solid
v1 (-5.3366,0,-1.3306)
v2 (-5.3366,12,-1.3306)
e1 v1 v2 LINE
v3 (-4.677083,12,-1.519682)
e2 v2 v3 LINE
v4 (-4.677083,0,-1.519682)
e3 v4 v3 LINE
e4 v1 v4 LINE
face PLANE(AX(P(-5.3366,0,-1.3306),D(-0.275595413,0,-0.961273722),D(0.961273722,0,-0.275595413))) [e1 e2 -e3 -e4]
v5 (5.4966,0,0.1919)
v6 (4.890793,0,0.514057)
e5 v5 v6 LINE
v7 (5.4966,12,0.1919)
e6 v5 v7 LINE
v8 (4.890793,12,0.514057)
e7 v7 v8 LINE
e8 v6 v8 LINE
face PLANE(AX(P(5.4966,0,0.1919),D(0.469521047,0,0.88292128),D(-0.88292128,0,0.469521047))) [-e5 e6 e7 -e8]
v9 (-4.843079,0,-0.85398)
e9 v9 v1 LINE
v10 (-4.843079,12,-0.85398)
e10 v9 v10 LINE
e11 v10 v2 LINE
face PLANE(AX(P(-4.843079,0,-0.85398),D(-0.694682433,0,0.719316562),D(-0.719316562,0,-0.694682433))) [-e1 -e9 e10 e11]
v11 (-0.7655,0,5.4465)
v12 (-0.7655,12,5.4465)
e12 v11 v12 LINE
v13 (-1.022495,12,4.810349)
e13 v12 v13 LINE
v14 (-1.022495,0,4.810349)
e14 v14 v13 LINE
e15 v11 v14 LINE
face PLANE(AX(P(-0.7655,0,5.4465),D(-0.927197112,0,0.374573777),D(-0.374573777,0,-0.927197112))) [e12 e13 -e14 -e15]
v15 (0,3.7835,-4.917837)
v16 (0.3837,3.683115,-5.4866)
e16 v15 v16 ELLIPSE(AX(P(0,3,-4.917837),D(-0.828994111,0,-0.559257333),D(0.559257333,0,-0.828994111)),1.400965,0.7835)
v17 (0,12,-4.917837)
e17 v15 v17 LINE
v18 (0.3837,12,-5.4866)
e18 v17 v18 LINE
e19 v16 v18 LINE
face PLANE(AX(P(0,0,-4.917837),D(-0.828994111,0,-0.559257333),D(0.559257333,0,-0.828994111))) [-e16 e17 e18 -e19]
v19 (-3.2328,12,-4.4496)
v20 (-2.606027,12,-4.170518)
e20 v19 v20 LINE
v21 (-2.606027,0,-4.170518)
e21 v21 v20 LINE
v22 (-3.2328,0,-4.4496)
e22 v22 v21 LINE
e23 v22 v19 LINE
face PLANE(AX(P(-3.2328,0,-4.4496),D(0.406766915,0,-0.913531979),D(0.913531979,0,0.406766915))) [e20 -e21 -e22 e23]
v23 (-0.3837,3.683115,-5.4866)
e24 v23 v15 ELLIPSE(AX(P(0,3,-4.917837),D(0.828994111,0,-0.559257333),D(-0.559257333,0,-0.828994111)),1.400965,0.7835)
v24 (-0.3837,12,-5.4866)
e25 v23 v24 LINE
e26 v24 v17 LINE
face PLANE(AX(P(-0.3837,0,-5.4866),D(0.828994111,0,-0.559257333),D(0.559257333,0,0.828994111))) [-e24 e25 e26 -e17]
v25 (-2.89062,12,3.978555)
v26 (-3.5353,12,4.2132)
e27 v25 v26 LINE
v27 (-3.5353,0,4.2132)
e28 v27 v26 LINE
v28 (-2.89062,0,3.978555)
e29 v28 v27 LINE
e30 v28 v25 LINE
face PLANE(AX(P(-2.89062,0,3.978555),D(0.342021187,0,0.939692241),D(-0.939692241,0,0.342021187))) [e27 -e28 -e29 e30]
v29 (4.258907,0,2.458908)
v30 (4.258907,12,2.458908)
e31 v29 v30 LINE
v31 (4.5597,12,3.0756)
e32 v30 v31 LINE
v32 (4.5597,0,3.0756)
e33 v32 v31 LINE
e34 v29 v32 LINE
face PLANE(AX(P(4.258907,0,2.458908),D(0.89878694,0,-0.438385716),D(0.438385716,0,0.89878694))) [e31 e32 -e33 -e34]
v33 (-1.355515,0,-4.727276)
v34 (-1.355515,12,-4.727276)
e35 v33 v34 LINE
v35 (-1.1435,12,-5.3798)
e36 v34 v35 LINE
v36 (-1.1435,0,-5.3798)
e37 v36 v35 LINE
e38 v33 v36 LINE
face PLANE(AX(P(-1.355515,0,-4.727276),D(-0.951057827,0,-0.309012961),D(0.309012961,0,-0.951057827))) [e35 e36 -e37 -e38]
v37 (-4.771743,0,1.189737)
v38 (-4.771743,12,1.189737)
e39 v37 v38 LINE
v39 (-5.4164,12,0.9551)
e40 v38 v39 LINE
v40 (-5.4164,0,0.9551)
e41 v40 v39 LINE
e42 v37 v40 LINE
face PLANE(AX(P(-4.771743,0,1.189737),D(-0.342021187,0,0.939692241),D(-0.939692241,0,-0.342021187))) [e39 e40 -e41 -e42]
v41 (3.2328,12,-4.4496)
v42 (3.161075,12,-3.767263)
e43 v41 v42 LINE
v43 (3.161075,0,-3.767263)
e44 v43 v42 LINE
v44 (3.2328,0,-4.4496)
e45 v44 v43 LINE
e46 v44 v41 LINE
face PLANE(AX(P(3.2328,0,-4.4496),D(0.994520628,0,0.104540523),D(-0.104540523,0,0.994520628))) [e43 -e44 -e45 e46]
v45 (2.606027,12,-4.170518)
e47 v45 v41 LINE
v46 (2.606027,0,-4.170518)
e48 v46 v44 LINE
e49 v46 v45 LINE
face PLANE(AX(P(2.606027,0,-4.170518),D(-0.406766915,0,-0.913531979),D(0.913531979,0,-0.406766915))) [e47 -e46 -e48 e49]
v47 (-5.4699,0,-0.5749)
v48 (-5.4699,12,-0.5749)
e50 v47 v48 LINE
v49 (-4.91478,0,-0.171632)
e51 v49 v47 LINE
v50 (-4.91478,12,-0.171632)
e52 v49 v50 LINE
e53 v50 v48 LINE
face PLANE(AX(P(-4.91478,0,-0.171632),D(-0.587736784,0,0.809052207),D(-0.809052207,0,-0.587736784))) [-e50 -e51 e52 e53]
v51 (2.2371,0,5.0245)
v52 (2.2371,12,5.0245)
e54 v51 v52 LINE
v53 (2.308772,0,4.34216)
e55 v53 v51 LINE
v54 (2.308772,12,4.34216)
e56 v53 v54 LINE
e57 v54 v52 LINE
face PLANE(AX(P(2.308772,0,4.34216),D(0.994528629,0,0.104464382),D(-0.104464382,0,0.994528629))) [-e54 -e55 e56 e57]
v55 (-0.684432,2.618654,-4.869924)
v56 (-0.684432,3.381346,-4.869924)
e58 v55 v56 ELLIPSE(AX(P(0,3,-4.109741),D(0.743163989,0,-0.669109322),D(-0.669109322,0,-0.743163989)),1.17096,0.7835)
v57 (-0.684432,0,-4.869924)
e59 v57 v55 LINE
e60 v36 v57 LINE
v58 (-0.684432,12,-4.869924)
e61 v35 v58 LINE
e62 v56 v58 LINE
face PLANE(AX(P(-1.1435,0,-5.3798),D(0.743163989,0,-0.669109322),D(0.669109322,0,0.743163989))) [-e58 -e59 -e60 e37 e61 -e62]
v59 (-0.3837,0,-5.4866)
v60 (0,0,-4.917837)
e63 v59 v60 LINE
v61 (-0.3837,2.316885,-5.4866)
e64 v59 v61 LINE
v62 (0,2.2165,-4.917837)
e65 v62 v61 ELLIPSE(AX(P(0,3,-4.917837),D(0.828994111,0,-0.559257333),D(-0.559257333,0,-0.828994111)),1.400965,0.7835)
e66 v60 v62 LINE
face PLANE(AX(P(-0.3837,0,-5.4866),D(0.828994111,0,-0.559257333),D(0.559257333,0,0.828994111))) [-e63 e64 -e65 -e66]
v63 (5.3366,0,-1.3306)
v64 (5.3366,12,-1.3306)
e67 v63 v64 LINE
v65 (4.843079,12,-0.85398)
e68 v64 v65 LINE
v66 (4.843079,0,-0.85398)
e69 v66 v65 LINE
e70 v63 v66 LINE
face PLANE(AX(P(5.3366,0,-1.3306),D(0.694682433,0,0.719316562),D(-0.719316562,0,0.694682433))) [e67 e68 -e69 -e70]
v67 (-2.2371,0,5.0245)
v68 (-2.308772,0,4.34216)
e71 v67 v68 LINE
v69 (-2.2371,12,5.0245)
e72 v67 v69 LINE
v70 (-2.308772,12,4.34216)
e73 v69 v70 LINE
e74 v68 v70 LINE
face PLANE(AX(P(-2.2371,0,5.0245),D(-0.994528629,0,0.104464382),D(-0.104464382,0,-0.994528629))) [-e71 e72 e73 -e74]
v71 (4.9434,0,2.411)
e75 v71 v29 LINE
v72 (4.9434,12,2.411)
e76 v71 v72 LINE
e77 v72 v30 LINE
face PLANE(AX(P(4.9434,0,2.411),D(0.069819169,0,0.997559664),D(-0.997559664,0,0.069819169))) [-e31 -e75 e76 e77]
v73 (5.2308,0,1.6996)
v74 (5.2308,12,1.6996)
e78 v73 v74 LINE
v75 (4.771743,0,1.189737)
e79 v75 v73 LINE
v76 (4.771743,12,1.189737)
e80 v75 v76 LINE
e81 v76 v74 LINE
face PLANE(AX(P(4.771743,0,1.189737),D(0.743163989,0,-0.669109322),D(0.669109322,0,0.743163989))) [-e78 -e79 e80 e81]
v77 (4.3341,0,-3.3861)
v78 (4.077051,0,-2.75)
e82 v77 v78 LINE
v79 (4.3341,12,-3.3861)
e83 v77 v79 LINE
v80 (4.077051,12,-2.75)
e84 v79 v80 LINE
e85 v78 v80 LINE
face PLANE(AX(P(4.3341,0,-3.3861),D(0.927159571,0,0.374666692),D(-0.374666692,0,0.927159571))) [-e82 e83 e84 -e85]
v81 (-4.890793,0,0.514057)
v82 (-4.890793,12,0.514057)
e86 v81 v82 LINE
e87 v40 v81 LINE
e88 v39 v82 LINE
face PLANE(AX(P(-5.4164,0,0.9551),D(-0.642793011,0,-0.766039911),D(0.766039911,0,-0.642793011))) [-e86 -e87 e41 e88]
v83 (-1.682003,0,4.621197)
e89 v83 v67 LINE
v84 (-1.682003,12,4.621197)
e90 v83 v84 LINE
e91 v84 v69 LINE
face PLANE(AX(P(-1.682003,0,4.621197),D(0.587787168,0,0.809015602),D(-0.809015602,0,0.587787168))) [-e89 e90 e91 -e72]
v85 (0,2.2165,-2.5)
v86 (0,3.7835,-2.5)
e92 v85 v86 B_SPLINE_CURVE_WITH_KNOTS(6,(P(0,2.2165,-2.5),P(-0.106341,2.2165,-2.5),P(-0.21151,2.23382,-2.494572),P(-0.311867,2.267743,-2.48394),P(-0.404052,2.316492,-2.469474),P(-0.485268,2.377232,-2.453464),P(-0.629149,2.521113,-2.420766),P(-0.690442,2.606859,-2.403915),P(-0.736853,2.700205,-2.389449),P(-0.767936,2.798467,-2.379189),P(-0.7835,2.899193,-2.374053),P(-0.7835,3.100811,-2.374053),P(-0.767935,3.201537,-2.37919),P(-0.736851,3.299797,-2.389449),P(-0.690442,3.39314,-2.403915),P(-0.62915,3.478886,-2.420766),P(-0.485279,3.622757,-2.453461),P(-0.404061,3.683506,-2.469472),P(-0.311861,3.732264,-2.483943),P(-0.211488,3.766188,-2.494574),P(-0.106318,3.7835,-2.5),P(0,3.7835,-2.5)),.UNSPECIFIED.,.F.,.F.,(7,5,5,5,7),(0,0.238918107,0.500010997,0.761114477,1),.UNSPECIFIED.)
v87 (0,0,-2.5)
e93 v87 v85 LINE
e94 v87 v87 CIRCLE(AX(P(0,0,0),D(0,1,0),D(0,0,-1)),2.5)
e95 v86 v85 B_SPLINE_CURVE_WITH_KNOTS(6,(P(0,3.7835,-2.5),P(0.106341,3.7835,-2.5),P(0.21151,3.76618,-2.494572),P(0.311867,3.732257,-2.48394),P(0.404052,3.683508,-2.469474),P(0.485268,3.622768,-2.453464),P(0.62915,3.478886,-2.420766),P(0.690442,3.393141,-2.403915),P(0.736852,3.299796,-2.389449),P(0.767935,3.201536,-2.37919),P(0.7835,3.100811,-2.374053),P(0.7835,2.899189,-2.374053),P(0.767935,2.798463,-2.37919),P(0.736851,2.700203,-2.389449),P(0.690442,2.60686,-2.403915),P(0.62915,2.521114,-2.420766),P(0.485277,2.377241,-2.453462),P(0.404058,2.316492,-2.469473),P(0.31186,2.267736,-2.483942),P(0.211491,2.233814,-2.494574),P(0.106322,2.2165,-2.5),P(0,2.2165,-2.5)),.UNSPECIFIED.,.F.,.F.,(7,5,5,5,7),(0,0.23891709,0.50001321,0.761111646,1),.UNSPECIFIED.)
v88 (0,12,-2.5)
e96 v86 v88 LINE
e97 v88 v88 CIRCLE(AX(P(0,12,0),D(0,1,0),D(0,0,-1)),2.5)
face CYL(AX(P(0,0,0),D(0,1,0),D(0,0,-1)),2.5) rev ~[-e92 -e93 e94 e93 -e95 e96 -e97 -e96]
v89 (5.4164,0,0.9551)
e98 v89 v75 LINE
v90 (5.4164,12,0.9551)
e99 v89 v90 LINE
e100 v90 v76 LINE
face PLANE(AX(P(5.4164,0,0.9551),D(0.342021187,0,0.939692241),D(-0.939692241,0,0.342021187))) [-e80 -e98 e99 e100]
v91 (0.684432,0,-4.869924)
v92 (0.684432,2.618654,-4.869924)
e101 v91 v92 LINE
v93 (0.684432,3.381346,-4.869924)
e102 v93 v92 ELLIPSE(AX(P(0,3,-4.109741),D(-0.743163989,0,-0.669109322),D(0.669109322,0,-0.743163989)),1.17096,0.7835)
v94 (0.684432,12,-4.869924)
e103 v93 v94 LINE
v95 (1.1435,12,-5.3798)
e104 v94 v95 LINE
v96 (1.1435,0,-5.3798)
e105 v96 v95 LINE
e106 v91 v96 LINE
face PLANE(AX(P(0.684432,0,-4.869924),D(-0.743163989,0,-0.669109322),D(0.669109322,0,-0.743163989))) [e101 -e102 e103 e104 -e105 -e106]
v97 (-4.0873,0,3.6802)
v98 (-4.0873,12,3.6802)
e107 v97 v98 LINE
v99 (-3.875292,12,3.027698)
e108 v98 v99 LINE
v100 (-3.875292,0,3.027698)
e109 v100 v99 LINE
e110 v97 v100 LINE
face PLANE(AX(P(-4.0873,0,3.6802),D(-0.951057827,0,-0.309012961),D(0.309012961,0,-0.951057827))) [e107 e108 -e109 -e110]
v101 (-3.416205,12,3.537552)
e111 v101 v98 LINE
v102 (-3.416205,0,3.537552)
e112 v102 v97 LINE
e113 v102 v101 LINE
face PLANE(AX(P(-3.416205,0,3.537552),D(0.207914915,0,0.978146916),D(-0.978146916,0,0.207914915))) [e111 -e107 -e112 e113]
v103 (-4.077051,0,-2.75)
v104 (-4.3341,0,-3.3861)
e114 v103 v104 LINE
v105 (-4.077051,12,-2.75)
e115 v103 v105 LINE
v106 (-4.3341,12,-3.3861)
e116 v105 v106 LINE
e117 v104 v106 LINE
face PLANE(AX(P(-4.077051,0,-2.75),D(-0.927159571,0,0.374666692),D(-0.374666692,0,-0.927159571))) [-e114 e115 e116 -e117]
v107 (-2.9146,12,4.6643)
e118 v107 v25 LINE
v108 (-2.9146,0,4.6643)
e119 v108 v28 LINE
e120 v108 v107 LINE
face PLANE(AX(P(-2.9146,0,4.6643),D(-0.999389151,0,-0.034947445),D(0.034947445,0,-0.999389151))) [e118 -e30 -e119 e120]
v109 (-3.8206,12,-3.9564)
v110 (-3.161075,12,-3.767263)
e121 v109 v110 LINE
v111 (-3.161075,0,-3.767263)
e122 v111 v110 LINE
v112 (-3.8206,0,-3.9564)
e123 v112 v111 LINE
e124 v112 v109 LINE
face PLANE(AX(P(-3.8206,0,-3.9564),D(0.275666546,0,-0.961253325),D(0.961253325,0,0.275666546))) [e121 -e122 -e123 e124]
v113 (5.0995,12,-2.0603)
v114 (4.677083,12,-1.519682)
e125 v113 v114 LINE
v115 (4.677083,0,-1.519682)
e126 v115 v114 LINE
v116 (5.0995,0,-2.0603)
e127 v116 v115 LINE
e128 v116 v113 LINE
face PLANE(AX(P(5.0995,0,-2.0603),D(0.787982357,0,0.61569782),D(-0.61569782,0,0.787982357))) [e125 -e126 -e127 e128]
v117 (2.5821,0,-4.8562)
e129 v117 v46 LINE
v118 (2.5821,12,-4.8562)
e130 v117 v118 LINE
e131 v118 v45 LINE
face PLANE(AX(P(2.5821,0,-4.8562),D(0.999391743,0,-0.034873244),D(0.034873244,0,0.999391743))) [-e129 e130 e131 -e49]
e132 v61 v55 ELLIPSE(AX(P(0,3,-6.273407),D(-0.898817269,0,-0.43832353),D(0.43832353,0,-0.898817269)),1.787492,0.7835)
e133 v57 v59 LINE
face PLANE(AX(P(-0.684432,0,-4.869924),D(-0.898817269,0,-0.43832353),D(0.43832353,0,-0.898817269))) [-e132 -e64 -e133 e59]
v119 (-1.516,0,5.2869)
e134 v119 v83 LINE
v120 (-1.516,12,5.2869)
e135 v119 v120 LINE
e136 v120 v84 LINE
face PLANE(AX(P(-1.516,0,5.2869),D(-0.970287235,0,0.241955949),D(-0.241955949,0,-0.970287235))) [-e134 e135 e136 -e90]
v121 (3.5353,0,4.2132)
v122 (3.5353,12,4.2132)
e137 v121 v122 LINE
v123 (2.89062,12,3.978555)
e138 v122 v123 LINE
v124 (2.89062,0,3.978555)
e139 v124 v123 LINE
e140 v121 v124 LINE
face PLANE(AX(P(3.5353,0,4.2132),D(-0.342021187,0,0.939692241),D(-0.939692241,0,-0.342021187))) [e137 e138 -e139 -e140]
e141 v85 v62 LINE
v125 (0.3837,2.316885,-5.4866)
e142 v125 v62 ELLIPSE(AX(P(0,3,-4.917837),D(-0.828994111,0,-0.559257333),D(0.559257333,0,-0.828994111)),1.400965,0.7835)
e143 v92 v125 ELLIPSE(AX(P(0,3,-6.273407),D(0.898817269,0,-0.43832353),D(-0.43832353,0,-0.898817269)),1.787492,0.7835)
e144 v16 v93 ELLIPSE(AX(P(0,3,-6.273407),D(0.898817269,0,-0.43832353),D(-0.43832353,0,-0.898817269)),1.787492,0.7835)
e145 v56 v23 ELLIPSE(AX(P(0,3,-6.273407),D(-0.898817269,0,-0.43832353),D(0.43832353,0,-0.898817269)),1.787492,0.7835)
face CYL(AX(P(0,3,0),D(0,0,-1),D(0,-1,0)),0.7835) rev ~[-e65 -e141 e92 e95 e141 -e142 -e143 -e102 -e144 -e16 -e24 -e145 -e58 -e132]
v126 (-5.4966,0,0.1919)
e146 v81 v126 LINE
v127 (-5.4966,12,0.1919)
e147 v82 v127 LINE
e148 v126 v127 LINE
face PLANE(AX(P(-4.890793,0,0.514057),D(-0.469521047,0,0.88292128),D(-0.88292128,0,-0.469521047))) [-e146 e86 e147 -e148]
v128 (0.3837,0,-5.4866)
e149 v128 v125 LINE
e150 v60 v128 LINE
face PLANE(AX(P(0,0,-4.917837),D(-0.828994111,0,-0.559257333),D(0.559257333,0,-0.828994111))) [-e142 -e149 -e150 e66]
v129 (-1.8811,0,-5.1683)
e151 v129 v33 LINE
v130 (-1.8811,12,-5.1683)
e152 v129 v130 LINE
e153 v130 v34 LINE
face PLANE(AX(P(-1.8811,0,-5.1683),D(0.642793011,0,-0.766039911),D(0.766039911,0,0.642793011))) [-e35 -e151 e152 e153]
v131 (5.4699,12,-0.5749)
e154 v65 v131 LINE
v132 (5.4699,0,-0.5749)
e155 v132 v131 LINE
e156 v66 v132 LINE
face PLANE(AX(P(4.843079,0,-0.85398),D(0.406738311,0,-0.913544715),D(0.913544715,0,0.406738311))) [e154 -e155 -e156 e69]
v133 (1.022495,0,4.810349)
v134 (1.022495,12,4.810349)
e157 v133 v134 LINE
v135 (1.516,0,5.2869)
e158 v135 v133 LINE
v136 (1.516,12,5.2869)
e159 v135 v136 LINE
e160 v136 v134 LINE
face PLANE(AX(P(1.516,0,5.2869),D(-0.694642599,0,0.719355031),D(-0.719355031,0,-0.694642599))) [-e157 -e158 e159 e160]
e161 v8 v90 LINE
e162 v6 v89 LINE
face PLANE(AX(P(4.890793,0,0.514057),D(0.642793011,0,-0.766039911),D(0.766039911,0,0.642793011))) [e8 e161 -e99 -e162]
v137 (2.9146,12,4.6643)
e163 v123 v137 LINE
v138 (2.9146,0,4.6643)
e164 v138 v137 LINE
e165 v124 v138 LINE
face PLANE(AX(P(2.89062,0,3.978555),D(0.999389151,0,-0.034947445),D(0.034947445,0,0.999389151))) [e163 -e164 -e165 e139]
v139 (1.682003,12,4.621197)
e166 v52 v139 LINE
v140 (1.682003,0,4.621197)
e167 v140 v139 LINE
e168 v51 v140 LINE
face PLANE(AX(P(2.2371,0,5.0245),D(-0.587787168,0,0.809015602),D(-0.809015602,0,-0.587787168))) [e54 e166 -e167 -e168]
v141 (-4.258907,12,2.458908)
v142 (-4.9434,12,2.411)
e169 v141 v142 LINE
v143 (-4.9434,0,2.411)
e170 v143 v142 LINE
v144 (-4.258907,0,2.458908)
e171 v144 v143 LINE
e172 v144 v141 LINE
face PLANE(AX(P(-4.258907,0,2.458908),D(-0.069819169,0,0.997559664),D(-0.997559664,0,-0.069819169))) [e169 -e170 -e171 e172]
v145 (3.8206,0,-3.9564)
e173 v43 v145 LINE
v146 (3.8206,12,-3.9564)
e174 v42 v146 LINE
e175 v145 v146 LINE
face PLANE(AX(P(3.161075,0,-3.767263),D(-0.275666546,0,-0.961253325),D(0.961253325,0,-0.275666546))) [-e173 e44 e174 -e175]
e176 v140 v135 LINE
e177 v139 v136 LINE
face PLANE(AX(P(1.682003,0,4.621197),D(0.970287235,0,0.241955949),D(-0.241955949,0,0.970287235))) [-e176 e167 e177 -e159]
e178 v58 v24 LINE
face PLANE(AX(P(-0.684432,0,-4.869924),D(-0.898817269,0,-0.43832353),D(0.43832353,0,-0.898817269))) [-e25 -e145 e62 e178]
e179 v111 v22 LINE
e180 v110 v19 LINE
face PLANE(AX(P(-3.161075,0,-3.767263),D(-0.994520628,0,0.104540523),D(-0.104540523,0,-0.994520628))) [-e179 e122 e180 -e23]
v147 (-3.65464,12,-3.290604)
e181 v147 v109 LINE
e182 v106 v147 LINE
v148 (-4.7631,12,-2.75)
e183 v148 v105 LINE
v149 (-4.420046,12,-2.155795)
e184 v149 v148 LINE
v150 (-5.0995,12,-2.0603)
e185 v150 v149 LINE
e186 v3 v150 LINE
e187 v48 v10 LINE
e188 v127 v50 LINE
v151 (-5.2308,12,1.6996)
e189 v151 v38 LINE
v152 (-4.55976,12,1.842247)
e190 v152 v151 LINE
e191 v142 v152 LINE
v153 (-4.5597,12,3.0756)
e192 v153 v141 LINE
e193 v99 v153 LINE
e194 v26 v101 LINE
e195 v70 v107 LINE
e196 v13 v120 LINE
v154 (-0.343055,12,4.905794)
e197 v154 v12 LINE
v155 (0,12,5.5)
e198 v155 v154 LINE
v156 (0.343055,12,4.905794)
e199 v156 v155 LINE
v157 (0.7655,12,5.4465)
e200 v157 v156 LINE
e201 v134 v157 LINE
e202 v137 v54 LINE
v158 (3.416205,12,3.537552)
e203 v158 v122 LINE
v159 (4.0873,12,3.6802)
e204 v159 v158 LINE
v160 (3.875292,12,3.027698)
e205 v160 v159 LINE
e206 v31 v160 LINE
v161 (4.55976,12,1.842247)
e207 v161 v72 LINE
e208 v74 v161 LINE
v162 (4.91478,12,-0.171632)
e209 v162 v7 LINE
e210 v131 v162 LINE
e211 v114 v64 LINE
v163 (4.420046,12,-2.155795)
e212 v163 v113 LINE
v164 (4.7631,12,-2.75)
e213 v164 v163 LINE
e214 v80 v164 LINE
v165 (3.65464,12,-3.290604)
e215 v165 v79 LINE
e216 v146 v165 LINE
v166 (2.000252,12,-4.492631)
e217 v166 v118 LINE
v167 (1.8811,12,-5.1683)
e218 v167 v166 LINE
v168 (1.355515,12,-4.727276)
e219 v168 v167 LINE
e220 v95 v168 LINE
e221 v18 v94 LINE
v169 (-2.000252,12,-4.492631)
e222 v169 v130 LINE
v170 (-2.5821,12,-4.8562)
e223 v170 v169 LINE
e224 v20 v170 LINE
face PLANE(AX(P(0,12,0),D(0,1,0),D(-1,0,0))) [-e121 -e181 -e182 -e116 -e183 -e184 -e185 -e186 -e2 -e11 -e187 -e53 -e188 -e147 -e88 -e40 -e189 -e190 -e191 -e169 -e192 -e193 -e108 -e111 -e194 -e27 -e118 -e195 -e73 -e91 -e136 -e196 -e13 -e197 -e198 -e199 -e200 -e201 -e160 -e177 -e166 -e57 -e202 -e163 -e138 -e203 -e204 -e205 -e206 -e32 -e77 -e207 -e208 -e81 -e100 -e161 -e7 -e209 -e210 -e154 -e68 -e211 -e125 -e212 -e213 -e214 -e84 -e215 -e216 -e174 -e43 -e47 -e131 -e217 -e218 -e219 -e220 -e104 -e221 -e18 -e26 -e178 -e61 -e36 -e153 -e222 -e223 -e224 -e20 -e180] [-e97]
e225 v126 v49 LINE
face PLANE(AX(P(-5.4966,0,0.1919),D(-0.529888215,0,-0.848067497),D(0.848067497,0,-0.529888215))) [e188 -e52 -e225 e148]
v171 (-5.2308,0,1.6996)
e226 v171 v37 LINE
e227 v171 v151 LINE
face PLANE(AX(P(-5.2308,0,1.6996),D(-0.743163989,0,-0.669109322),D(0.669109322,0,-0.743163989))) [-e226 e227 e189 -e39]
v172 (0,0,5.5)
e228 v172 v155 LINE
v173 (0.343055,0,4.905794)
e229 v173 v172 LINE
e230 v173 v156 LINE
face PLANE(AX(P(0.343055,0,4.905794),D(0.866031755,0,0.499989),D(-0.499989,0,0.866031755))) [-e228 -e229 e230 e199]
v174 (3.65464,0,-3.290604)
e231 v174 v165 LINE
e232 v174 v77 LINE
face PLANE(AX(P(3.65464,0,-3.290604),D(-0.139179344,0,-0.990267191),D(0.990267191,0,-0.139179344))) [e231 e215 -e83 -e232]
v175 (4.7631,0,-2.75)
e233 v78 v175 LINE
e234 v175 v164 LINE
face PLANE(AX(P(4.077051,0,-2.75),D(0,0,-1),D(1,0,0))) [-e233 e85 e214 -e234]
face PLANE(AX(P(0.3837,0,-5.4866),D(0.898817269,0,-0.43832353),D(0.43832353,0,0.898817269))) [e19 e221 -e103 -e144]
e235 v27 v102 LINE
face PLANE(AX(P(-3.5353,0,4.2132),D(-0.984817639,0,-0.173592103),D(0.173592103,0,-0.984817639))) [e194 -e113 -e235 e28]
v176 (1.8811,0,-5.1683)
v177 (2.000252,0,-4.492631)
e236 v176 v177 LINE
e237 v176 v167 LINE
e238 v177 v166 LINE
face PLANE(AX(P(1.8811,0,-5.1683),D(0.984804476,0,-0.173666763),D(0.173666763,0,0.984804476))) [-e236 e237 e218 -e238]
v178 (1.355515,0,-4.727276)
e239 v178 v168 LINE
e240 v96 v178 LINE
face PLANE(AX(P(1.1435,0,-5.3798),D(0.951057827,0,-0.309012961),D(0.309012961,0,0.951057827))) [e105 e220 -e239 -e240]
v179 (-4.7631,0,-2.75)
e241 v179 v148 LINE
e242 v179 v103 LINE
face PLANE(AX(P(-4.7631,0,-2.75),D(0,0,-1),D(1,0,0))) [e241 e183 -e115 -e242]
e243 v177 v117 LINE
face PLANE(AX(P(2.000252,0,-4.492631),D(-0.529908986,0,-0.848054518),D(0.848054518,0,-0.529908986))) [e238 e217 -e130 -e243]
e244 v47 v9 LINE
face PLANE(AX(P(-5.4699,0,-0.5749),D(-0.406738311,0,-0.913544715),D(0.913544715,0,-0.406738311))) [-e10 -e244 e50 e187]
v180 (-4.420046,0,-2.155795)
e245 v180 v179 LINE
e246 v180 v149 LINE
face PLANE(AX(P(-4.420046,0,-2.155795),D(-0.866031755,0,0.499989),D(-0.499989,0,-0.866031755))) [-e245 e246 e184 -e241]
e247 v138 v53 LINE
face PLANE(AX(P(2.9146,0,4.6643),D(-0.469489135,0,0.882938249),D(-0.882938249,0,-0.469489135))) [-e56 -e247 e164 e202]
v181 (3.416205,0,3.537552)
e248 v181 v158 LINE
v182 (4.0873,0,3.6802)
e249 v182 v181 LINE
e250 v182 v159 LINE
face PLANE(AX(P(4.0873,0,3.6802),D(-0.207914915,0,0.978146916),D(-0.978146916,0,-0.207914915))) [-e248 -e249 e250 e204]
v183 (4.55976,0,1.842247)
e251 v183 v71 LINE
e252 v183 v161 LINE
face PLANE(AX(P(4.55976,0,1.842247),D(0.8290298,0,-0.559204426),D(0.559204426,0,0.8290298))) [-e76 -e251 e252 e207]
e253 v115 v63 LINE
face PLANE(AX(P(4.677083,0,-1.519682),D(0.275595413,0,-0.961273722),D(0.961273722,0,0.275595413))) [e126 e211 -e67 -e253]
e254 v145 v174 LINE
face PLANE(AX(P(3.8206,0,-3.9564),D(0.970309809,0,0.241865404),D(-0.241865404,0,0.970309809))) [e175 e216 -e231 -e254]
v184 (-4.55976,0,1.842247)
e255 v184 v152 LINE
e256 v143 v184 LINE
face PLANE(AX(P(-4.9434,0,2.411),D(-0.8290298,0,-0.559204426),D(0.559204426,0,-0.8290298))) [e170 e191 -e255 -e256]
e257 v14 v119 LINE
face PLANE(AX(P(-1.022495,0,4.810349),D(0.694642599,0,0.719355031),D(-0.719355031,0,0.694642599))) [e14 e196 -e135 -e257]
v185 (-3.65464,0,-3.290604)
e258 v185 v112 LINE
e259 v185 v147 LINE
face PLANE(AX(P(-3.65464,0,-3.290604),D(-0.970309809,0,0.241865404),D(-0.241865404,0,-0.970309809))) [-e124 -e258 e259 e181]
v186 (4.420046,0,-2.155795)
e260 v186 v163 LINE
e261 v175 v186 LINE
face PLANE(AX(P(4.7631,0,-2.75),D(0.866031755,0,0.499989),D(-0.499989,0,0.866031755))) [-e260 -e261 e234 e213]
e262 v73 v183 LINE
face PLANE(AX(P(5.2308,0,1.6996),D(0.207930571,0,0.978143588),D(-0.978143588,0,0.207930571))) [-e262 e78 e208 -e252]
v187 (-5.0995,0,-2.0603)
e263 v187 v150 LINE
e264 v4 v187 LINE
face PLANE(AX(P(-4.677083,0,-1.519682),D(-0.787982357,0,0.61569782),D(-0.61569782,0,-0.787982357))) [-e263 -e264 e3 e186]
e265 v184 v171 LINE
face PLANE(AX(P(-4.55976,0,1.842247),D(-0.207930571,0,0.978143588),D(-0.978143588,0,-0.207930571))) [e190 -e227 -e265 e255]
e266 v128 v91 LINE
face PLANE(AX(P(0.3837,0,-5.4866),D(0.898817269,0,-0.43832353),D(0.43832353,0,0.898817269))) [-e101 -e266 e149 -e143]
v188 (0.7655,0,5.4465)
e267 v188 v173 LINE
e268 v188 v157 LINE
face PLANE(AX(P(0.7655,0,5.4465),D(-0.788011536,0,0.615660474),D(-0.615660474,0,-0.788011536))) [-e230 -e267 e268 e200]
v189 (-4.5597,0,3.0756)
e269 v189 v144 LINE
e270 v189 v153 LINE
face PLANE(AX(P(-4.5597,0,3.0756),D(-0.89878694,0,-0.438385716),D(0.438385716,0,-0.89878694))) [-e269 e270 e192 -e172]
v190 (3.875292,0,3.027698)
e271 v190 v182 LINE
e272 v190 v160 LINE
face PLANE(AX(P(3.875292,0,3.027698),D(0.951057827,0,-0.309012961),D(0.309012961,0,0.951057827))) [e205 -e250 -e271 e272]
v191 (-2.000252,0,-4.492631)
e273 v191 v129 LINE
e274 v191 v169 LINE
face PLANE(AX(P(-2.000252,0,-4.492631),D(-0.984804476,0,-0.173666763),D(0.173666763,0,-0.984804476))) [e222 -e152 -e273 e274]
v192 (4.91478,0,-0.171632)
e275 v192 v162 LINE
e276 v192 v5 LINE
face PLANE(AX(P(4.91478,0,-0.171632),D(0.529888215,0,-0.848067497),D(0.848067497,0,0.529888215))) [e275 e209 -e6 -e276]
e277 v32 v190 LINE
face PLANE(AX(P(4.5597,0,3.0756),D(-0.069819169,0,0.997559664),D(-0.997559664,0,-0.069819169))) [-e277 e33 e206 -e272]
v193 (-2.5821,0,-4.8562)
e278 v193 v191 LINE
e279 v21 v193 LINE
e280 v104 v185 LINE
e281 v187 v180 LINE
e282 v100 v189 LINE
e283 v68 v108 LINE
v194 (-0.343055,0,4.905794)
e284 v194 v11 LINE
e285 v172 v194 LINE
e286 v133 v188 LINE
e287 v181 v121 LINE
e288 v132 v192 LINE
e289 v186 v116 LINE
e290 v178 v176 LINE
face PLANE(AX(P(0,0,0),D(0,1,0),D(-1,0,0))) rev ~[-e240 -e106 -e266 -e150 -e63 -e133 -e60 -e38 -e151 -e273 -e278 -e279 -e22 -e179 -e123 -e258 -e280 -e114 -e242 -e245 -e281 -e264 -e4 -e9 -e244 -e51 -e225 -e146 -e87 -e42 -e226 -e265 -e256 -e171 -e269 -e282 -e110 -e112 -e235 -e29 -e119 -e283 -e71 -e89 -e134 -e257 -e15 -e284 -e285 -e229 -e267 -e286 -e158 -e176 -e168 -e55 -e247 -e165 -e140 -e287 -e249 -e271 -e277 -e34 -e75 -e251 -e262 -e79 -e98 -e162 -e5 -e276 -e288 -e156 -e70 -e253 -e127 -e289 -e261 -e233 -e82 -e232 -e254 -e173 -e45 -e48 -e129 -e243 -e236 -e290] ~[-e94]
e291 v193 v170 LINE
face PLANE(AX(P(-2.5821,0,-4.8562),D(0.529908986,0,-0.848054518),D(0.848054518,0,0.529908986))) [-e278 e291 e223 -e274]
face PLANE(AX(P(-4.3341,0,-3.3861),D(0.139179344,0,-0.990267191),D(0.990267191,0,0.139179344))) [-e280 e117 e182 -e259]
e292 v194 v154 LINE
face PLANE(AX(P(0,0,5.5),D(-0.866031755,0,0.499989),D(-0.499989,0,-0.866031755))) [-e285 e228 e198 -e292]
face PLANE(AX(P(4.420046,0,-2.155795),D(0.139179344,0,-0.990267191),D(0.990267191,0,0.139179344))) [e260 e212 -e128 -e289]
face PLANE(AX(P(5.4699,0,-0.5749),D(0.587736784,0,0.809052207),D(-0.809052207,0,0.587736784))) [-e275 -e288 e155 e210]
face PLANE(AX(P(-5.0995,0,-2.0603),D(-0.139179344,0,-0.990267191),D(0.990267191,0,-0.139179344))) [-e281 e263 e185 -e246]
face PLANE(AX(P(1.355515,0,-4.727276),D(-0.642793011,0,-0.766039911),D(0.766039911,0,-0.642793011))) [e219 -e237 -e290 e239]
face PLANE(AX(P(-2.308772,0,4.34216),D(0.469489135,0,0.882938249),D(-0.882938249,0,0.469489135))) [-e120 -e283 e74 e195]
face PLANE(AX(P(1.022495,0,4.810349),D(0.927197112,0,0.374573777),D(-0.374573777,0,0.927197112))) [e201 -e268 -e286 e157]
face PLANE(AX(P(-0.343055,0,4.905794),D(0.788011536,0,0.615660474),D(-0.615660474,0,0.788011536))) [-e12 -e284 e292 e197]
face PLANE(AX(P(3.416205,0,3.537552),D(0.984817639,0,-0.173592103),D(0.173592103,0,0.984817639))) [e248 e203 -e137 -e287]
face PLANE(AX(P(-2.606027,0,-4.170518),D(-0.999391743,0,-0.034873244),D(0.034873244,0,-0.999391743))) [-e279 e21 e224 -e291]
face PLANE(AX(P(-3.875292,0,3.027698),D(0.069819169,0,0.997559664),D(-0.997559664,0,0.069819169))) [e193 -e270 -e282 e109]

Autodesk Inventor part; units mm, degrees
ref_plane "YZ Plane" through (0, 0, 0) normal (1, 0, 0) x (0, 1, 0)
ref_plane "XZ Plane" through (0, 0, 0) normal (0, 1, 0) x (-1, 0, 0)
ref_plane "XY Plane" through (0, 0, 0) normal (0, 0, 1) x (1, 0, 0)
sketch "草圖1" plane through (0, 0, 0) normal (0, 1, 0) x (-1, 0, 0)
  circle A0 centre (0, 0) radius 4.75
  line L0 (0, 5.5) -> (0.6495, 4.375)
  line L1 (0.6495, 4.375) -> (-0.6495, 4.375)
  line L2 (-0.6495, 4.375) -> (0, 5.5)
  line L3 (-0.7655, 5.4465) -> (0.0343, 4.4228)
  line L4 (0.0343, 4.4228) -> (-1.2521, 4.242)
  line L5 (-1.2521, 4.242) -> (-0.7655, 5.4465)
  line L6 (-1.516, 5.2869) -> (-0.5816, 4.3846)
  line L7 (-0.5816, 4.3846) -> (-1.8303, 4.0265)
  line L8 (-1.8303, 4.0265) -> (-1.516, 5.2869)
  line L9 (-2.2371, 5.0245) -> (-1.1861, 4.2609)
  line L10 (-1.1861, 4.2609) -> (-2.3728, 3.7326)
  line L11 (-2.3728, 3.7326) -> (-2.2371, 5.0245)
  line L12 (-2.9146, 4.6643) -> (-1.7676, 4.0544)
  line L13 (-1.7676, 4.0544) -> (-2.8692, 3.366)
  line L14 (-2.8692, 3.366) -> (-2.9146, 4.6643)
  line L15 (-3.5353, 4.2132) -> (-2.3146, 3.7689)
  line L16 (-2.3146, 3.7689) -> (-3.3098, 2.9339)
  line L17 (-3.3098, 2.9339) -> (-3.5353, 4.2132)
  line L18 (-4.0873, 3.6802) -> (-2.8166, 3.4101)
  line L19 (-2.8166, 3.4101) -> (-3.6859, 2.4448)
  line L20 (-3.6859, 2.4448) -> (-4.0873, 3.6802)
  line L21 (-4.5597, 3.0756) -> (-3.2638, 2.9849)
  line L22 (-3.2638, 2.9849) -> (-3.9902, 1.908)
  line L23 (-3.9902, 1.908) -> (-4.5597, 3.0756)
  line L24 (-4.9434, 2.411) -> (-3.6475, 2.5017)
  line L25 (-3.6475, 2.5017) -> (-4.217, 1.3341)
  line L26 (-4.217, 1.3341) -> (-4.9434, 2.411)
  line L27 (-5.2308, 1.6996) -> (-3.9602, 1.9697)
  line L28 (-3.9602, 1.9697) -> (-4.3616, 0.7342)
  line L29 (-4.3616, 0.7342) -> (-5.2308, 1.6996)
  line L30 (-5.4164, 0.9551) -> (-4.1957, 1.3994)
  line L31 (-4.1957, 1.3994) -> (-4.4213, 0.1201)
  line L32 (-4.4213, 0.1201) -> (-5.4164, 0.9551)
  line L33 (-5.4966, 0.1919) -> (-4.3497, 0.8018)
  line L34 (-4.3497, 0.8018) -> (-4.395, -0.4964)
  line L35 (-4.395, -0.4964) -> (-5.4966, 0.1919)
  line L36 (-5.4699, -0.5749) -> (-4.4189, 0.1886)
  line L37 (-4.4189, 0.1886) -> (-4.2831, -1.1033)
  line L38 (-4.2831, -1.1033) -> (-5.4699, -0.5749)
  line L39 (-5.3366, -1.3306) -> (-4.4022, -0.4282)
  line L40 (-4.4022, -0.4282) -> (-4.0879, -1.6886)
  line L41 (-4.0879, -1.6886) -> (-5.3366, -1.3306)
  line L42 (-5.0995, -2.0603) -> (-4.2997, -1.0367)
  line L43 (-4.2997, -1.0367) -> (-3.8131, -2.2411)
  line L44 (-3.8131, -2.2411) -> (-5.0995, -2.0603)
  line L45 (-4.7631, -2.75) -> (-4.1136, -1.625)
  line L46 (-4.1136, -1.625) -> (-3.4641, -2.75)
  line L47 (-3.4641, -2.75) -> (-4.7631, -2.75)
  line L48 (-4.3341, -3.3861) -> (-3.8474, -2.1817)
  line L49 (-3.8474, -2.1817) -> (-3.0477, -3.2053)
  line L50 (-3.0477, -3.2053) -> (-4.3341, -3.3861)
  line L51 (-3.8206, -3.9564) -> (-3.5064, -2.6959)
  line L52 (-3.5064, -2.6959) -> (-2.5719, -3.5983)
  line L53 (-2.5719, -3.5983) -> (-3.8206, -3.9564)
  line L54 (-3.2328, -4.4496) -> (-3.097, -3.1577)
  line L55 (-3.097, -3.1577) -> (-2.0461, -3.9212)
  line L56 (-2.0461, -3.9212) -> (-3.2328, -4.4496)
  line L57 (-2.5821, -4.8562) -> (-2.6274, -3.558)
  line L58 (-2.6274, -3.558) -> (-1.4804, -4.1678)
  line L59 (-1.4804, -4.1678) -> (-2.5821, -4.8562)
  line L60 (-1.8811, -5.1683) -> (-2.1067, -3.889)
  line L61 (-2.1067, -3.889) -> (-0.886, -4.3333)
  line L62 (-0.886, -4.3333) -> (-1.8811, -5.1683)
  line L63 (-1.1435, -5.3798) -> (-1.5449, -4.1444)
  line L64 (-1.5449, -4.1444) -> (-0.2743, -4.4144)
  line L65 (-0.2743, -4.4144) -> (-1.1435, -5.3798)
  line L66 (-0.3837, -5.4866) -> (-0.9531, -4.319)
  line L67 (-0.9531, -4.319) -> (0.3428, -4.4097)
  line L68 (0.3428, -4.4097) -> (-0.3837, -5.4866)
  line L69 (0.3837, -5.4866) -> (-0.3428, -4.4097)
  line L70 (-0.3428, -4.4097) -> (0.9531, -4.319)
  line L71 (0.9531, -4.319) -> (0.3837, -5.4866)
  line L72 (1.1435, -5.3798) -> (0.2743, -4.4144)
  line L73 (0.2743, -4.4144) -> (1.5449, -4.1444)
  line L74 (1.5449, -4.1444) -> (1.1435, -5.3798)
  line L75 (1.8811, -5.1683) -> (0.886, -4.3333)
  line L76 (0.886, -4.3333) -> (2.1067, -3.889)
  line L77 (2.1067, -3.889) -> (1.8811, -5.1683)
  line L78 (2.5821, -4.8562) -> (1.4804, -4.1678)
  line L79 (1.4804, -4.1678) -> (2.6274, -3.558)
  line L80 (2.6274, -3.558) -> (2.5821, -4.8562)
  line L81 (3.2328, -4.4496) -> (2.0461, -3.9212)
  line L82 (2.0461, -3.9212) -> (3.097, -3.1577)
  line L83 (3.097, -3.1577) -> (3.2328, -4.4496)
  line L84 (3.8206, -3.9564) -> (2.5719, -3.5983)
  line L85 (2.5719, -3.5983) -> (3.5064, -2.6959)
  line L86 (3.5064, -2.6959) -> (3.8206, -3.9564)
  line L87 (4.3341, -3.3861) -> (3.0477, -3.2053)
  line L88 (3.0477, -3.2053) -> (3.8474, -2.1817)
  line L89 (3.8474, -2.1817) -> (4.3341, -3.3861)
  line L90 (4.7631, -2.75) -> (3.4641, -2.75)
  line L91 (3.4641, -2.75) -> (4.1136, -1.625)
  line L92 (4.1136, -1.625) -> (4.7631, -2.75)
  line L93 (5.0995, -2.0603) -> (3.8131, -2.2411)
  line L94 (3.8131, -2.2411) -> (4.2997, -1.0367)
  line L95 (4.2997, -1.0367) -> (5.0995, -2.0603)
  line L96 (5.3366, -1.3306) -> (4.0879, -1.6886)
  line L97 (4.0879, -1.6886) -> (4.4022, -0.4282)
  line L98 (4.4022, -0.4282) -> (5.3366, -1.3306)
  line L99 (5.4699, -0.5749) -> (4.2831, -1.1033)
  line L100 (4.2831, -1.1033) -> (4.4189, 0.1886)
  line L101 (4.4189, 0.1886) -> (5.4699, -0.5749)
  line L102 (5.4966, 0.1919) -> (4.395, -0.4964)
  line L103 (4.395, -0.4964) -> (4.3497, 0.8018)
  line L104 (4.3497, 0.8018) -> (5.4966, 0.1919)
  line L105 (5.4164, 0.9551) -> (4.4213, 0.1201)
  line L106 (4.4213, 0.1201) -> (4.1957, 1.3994)
  line L107 (4.1957, 1.3994) -> (5.4164, 0.9551)
  line L108 (5.2308, 1.6996) -> (4.3616, 0.7342)
  line L109 (4.3616, 0.7342) -> (3.9602, 1.9697)
  line L110 (3.9602, 1.9697) -> (5.2308, 1.6996)
  line L111 (4.9434, 2.411) -> (4.217, 1.3341)
  line L112 (4.217, 1.3341) -> (3.6475, 2.5017)
  line L113 (3.6475, 2.5017) -> (4.9434, 2.411)
  line L114 (4.5597, 3.0756) -> (3.9902, 1.908)
  line L115 (3.9902, 1.908) -> (3.2638, 2.9849)
  line L116 (3.2638, 2.9849) -> (4.5597, 3.0756)
  line L117 (4.0873, 3.6802) -> (3.6859, 2.4448)
  line L118 (3.6859, 2.4448) -> (2.8166, 3.4101)
  line L119 (2.8166, 3.4101) -> (4.0873, 3.6802)
  line L120 (3.5353, 4.2132) -> (3.3098, 2.9339)
  line L121 (3.3098, 2.9339) -> (2.3146, 3.7689)
  line L122 (2.3146, 3.7689) -> (3.5353, 4.2132)
  line L123 (2.9146, 4.6643) -> (2.8692, 3.366)
  line L124 (2.8692, 3.366) -> (1.7676, 4.0544)
  line L125 (1.7676, 4.0544) -> (2.9146, 4.6643)
  line L126 (2.2371, 5.0245) -> (2.3728, 3.7326)
  line L127 (2.3728, 3.7326) -> (1.1861, 4.2609)
  line L128 (1.1861, 4.2609) -> (2.2371, 5.0245)
  line L129 (1.516, 5.2869) -> (1.8303, 4.0265)
  line L130 (1.8303, 4.0265) -> (0.5816, 4.3846)
  line L131 (0.5816, 4.3846) -> (1.516, 5.2869)
  line L132 (0.7655, 5.4465) -> (1.2521, 4.242)
  line L133 (1.2521, 4.242) -> (-0.0343, 4.4228)
  line L134 (-0.0343, 4.4228) -> (0.7655, 5.4465)
  point P0 (0, 4.75)
  point P1 (-0.6611, 4.7038)
  point P2 (-1.3093, 4.566)
  point P3 (-1.932, 4.3393)
  point P4 (-2.5171, 4.0282)
  point P5 (-3.0532, 3.6387)
  point P6 (-3.5299, 3.1784)
  point P7 (-3.9379, 2.6562)
  point P8 (-4.2693, 2.0823)
  point P9 (-4.5175, 1.4678)
  point P10 (-4.6778, 0.8248)
  point P11 (-4.7471, 0.1658)
  point P12 (-4.724, -0.4965)
  point P13 (-4.6089, -1.1491)
  point P14 (-4.4041, -1.7794)
  point P15 (-4.1136, -2.375)
  point P16 (-3.7431, -2.9244)
  point P17 (-3.2996, -3.4169)
  point P18 (-2.792, -3.8428)
  point P19 (-2.23, -4.194)
  point P20 (-1.6246, -4.4635)
  point P21 (-0.9876, -4.6462)
  point P22 (-0.3313, -4.7384)
  point P23 (0.3313, -4.7384)
  point P24 (0.9876, -4.6462)
  point P25 (1.6246, -4.4635)
  point P26 (2.23, -4.194)
  point P27 (2.792, -3.8428)
  point P28 (3.2996, -3.4169)
  point P29 (3.7431, -2.9244)
  point P30 (4.1136, -2.375)
  point P31 (4.4041, -1.7794)
  point P32 (4.6089, -1.1491)
  point P33 (4.724, -0.4965)
  point P34 (4.7471, 0.1658)
  point P35 (4.6778, 0.8248)
  point P36 (4.5175, 1.4678)
  point P37 (4.2693, 2.0823)
  point P38 (3.9379, 2.6562)
  point P39 (3.5299, 3.1784)
  point P40 (3.0532, 3.6387)
  point P41 (2.5171, 4.0282)
  point P42 (1.932, 4.3393)
  point P43 (1.3093, 4.566)
  point P44 (0.6611, 4.7038)
  dimension "d0" = 9.5
  dimension "d5" = 360
extrude "擠出1" add sketch "草圖1" along normal blind 12
sketch "草圖2" plane through (0, 0, 0) normal (0, -1, 0) x (1, 0, 0)
  point P0 (0, 0)
  point P1 (0, 0)
hole "孔1" at (0, 0, 0) direction (0, 1, 0) diameter 5 end through all
sketch "草圖3" plane through (0, 0, 0) normal (0, 0, 1) x (1, 0, 0)
  point P0 (0, 0)
  point P1 (0, 3)
  dimension "d19" = 3
hole "孔2" at (0, 3, 0) direction (0, 0, -1) diameter 1.567 end through all thread size "M2x0.4" class "6H" standard "ANSI Metric M Profile"
properties part number "extruder_gear"
